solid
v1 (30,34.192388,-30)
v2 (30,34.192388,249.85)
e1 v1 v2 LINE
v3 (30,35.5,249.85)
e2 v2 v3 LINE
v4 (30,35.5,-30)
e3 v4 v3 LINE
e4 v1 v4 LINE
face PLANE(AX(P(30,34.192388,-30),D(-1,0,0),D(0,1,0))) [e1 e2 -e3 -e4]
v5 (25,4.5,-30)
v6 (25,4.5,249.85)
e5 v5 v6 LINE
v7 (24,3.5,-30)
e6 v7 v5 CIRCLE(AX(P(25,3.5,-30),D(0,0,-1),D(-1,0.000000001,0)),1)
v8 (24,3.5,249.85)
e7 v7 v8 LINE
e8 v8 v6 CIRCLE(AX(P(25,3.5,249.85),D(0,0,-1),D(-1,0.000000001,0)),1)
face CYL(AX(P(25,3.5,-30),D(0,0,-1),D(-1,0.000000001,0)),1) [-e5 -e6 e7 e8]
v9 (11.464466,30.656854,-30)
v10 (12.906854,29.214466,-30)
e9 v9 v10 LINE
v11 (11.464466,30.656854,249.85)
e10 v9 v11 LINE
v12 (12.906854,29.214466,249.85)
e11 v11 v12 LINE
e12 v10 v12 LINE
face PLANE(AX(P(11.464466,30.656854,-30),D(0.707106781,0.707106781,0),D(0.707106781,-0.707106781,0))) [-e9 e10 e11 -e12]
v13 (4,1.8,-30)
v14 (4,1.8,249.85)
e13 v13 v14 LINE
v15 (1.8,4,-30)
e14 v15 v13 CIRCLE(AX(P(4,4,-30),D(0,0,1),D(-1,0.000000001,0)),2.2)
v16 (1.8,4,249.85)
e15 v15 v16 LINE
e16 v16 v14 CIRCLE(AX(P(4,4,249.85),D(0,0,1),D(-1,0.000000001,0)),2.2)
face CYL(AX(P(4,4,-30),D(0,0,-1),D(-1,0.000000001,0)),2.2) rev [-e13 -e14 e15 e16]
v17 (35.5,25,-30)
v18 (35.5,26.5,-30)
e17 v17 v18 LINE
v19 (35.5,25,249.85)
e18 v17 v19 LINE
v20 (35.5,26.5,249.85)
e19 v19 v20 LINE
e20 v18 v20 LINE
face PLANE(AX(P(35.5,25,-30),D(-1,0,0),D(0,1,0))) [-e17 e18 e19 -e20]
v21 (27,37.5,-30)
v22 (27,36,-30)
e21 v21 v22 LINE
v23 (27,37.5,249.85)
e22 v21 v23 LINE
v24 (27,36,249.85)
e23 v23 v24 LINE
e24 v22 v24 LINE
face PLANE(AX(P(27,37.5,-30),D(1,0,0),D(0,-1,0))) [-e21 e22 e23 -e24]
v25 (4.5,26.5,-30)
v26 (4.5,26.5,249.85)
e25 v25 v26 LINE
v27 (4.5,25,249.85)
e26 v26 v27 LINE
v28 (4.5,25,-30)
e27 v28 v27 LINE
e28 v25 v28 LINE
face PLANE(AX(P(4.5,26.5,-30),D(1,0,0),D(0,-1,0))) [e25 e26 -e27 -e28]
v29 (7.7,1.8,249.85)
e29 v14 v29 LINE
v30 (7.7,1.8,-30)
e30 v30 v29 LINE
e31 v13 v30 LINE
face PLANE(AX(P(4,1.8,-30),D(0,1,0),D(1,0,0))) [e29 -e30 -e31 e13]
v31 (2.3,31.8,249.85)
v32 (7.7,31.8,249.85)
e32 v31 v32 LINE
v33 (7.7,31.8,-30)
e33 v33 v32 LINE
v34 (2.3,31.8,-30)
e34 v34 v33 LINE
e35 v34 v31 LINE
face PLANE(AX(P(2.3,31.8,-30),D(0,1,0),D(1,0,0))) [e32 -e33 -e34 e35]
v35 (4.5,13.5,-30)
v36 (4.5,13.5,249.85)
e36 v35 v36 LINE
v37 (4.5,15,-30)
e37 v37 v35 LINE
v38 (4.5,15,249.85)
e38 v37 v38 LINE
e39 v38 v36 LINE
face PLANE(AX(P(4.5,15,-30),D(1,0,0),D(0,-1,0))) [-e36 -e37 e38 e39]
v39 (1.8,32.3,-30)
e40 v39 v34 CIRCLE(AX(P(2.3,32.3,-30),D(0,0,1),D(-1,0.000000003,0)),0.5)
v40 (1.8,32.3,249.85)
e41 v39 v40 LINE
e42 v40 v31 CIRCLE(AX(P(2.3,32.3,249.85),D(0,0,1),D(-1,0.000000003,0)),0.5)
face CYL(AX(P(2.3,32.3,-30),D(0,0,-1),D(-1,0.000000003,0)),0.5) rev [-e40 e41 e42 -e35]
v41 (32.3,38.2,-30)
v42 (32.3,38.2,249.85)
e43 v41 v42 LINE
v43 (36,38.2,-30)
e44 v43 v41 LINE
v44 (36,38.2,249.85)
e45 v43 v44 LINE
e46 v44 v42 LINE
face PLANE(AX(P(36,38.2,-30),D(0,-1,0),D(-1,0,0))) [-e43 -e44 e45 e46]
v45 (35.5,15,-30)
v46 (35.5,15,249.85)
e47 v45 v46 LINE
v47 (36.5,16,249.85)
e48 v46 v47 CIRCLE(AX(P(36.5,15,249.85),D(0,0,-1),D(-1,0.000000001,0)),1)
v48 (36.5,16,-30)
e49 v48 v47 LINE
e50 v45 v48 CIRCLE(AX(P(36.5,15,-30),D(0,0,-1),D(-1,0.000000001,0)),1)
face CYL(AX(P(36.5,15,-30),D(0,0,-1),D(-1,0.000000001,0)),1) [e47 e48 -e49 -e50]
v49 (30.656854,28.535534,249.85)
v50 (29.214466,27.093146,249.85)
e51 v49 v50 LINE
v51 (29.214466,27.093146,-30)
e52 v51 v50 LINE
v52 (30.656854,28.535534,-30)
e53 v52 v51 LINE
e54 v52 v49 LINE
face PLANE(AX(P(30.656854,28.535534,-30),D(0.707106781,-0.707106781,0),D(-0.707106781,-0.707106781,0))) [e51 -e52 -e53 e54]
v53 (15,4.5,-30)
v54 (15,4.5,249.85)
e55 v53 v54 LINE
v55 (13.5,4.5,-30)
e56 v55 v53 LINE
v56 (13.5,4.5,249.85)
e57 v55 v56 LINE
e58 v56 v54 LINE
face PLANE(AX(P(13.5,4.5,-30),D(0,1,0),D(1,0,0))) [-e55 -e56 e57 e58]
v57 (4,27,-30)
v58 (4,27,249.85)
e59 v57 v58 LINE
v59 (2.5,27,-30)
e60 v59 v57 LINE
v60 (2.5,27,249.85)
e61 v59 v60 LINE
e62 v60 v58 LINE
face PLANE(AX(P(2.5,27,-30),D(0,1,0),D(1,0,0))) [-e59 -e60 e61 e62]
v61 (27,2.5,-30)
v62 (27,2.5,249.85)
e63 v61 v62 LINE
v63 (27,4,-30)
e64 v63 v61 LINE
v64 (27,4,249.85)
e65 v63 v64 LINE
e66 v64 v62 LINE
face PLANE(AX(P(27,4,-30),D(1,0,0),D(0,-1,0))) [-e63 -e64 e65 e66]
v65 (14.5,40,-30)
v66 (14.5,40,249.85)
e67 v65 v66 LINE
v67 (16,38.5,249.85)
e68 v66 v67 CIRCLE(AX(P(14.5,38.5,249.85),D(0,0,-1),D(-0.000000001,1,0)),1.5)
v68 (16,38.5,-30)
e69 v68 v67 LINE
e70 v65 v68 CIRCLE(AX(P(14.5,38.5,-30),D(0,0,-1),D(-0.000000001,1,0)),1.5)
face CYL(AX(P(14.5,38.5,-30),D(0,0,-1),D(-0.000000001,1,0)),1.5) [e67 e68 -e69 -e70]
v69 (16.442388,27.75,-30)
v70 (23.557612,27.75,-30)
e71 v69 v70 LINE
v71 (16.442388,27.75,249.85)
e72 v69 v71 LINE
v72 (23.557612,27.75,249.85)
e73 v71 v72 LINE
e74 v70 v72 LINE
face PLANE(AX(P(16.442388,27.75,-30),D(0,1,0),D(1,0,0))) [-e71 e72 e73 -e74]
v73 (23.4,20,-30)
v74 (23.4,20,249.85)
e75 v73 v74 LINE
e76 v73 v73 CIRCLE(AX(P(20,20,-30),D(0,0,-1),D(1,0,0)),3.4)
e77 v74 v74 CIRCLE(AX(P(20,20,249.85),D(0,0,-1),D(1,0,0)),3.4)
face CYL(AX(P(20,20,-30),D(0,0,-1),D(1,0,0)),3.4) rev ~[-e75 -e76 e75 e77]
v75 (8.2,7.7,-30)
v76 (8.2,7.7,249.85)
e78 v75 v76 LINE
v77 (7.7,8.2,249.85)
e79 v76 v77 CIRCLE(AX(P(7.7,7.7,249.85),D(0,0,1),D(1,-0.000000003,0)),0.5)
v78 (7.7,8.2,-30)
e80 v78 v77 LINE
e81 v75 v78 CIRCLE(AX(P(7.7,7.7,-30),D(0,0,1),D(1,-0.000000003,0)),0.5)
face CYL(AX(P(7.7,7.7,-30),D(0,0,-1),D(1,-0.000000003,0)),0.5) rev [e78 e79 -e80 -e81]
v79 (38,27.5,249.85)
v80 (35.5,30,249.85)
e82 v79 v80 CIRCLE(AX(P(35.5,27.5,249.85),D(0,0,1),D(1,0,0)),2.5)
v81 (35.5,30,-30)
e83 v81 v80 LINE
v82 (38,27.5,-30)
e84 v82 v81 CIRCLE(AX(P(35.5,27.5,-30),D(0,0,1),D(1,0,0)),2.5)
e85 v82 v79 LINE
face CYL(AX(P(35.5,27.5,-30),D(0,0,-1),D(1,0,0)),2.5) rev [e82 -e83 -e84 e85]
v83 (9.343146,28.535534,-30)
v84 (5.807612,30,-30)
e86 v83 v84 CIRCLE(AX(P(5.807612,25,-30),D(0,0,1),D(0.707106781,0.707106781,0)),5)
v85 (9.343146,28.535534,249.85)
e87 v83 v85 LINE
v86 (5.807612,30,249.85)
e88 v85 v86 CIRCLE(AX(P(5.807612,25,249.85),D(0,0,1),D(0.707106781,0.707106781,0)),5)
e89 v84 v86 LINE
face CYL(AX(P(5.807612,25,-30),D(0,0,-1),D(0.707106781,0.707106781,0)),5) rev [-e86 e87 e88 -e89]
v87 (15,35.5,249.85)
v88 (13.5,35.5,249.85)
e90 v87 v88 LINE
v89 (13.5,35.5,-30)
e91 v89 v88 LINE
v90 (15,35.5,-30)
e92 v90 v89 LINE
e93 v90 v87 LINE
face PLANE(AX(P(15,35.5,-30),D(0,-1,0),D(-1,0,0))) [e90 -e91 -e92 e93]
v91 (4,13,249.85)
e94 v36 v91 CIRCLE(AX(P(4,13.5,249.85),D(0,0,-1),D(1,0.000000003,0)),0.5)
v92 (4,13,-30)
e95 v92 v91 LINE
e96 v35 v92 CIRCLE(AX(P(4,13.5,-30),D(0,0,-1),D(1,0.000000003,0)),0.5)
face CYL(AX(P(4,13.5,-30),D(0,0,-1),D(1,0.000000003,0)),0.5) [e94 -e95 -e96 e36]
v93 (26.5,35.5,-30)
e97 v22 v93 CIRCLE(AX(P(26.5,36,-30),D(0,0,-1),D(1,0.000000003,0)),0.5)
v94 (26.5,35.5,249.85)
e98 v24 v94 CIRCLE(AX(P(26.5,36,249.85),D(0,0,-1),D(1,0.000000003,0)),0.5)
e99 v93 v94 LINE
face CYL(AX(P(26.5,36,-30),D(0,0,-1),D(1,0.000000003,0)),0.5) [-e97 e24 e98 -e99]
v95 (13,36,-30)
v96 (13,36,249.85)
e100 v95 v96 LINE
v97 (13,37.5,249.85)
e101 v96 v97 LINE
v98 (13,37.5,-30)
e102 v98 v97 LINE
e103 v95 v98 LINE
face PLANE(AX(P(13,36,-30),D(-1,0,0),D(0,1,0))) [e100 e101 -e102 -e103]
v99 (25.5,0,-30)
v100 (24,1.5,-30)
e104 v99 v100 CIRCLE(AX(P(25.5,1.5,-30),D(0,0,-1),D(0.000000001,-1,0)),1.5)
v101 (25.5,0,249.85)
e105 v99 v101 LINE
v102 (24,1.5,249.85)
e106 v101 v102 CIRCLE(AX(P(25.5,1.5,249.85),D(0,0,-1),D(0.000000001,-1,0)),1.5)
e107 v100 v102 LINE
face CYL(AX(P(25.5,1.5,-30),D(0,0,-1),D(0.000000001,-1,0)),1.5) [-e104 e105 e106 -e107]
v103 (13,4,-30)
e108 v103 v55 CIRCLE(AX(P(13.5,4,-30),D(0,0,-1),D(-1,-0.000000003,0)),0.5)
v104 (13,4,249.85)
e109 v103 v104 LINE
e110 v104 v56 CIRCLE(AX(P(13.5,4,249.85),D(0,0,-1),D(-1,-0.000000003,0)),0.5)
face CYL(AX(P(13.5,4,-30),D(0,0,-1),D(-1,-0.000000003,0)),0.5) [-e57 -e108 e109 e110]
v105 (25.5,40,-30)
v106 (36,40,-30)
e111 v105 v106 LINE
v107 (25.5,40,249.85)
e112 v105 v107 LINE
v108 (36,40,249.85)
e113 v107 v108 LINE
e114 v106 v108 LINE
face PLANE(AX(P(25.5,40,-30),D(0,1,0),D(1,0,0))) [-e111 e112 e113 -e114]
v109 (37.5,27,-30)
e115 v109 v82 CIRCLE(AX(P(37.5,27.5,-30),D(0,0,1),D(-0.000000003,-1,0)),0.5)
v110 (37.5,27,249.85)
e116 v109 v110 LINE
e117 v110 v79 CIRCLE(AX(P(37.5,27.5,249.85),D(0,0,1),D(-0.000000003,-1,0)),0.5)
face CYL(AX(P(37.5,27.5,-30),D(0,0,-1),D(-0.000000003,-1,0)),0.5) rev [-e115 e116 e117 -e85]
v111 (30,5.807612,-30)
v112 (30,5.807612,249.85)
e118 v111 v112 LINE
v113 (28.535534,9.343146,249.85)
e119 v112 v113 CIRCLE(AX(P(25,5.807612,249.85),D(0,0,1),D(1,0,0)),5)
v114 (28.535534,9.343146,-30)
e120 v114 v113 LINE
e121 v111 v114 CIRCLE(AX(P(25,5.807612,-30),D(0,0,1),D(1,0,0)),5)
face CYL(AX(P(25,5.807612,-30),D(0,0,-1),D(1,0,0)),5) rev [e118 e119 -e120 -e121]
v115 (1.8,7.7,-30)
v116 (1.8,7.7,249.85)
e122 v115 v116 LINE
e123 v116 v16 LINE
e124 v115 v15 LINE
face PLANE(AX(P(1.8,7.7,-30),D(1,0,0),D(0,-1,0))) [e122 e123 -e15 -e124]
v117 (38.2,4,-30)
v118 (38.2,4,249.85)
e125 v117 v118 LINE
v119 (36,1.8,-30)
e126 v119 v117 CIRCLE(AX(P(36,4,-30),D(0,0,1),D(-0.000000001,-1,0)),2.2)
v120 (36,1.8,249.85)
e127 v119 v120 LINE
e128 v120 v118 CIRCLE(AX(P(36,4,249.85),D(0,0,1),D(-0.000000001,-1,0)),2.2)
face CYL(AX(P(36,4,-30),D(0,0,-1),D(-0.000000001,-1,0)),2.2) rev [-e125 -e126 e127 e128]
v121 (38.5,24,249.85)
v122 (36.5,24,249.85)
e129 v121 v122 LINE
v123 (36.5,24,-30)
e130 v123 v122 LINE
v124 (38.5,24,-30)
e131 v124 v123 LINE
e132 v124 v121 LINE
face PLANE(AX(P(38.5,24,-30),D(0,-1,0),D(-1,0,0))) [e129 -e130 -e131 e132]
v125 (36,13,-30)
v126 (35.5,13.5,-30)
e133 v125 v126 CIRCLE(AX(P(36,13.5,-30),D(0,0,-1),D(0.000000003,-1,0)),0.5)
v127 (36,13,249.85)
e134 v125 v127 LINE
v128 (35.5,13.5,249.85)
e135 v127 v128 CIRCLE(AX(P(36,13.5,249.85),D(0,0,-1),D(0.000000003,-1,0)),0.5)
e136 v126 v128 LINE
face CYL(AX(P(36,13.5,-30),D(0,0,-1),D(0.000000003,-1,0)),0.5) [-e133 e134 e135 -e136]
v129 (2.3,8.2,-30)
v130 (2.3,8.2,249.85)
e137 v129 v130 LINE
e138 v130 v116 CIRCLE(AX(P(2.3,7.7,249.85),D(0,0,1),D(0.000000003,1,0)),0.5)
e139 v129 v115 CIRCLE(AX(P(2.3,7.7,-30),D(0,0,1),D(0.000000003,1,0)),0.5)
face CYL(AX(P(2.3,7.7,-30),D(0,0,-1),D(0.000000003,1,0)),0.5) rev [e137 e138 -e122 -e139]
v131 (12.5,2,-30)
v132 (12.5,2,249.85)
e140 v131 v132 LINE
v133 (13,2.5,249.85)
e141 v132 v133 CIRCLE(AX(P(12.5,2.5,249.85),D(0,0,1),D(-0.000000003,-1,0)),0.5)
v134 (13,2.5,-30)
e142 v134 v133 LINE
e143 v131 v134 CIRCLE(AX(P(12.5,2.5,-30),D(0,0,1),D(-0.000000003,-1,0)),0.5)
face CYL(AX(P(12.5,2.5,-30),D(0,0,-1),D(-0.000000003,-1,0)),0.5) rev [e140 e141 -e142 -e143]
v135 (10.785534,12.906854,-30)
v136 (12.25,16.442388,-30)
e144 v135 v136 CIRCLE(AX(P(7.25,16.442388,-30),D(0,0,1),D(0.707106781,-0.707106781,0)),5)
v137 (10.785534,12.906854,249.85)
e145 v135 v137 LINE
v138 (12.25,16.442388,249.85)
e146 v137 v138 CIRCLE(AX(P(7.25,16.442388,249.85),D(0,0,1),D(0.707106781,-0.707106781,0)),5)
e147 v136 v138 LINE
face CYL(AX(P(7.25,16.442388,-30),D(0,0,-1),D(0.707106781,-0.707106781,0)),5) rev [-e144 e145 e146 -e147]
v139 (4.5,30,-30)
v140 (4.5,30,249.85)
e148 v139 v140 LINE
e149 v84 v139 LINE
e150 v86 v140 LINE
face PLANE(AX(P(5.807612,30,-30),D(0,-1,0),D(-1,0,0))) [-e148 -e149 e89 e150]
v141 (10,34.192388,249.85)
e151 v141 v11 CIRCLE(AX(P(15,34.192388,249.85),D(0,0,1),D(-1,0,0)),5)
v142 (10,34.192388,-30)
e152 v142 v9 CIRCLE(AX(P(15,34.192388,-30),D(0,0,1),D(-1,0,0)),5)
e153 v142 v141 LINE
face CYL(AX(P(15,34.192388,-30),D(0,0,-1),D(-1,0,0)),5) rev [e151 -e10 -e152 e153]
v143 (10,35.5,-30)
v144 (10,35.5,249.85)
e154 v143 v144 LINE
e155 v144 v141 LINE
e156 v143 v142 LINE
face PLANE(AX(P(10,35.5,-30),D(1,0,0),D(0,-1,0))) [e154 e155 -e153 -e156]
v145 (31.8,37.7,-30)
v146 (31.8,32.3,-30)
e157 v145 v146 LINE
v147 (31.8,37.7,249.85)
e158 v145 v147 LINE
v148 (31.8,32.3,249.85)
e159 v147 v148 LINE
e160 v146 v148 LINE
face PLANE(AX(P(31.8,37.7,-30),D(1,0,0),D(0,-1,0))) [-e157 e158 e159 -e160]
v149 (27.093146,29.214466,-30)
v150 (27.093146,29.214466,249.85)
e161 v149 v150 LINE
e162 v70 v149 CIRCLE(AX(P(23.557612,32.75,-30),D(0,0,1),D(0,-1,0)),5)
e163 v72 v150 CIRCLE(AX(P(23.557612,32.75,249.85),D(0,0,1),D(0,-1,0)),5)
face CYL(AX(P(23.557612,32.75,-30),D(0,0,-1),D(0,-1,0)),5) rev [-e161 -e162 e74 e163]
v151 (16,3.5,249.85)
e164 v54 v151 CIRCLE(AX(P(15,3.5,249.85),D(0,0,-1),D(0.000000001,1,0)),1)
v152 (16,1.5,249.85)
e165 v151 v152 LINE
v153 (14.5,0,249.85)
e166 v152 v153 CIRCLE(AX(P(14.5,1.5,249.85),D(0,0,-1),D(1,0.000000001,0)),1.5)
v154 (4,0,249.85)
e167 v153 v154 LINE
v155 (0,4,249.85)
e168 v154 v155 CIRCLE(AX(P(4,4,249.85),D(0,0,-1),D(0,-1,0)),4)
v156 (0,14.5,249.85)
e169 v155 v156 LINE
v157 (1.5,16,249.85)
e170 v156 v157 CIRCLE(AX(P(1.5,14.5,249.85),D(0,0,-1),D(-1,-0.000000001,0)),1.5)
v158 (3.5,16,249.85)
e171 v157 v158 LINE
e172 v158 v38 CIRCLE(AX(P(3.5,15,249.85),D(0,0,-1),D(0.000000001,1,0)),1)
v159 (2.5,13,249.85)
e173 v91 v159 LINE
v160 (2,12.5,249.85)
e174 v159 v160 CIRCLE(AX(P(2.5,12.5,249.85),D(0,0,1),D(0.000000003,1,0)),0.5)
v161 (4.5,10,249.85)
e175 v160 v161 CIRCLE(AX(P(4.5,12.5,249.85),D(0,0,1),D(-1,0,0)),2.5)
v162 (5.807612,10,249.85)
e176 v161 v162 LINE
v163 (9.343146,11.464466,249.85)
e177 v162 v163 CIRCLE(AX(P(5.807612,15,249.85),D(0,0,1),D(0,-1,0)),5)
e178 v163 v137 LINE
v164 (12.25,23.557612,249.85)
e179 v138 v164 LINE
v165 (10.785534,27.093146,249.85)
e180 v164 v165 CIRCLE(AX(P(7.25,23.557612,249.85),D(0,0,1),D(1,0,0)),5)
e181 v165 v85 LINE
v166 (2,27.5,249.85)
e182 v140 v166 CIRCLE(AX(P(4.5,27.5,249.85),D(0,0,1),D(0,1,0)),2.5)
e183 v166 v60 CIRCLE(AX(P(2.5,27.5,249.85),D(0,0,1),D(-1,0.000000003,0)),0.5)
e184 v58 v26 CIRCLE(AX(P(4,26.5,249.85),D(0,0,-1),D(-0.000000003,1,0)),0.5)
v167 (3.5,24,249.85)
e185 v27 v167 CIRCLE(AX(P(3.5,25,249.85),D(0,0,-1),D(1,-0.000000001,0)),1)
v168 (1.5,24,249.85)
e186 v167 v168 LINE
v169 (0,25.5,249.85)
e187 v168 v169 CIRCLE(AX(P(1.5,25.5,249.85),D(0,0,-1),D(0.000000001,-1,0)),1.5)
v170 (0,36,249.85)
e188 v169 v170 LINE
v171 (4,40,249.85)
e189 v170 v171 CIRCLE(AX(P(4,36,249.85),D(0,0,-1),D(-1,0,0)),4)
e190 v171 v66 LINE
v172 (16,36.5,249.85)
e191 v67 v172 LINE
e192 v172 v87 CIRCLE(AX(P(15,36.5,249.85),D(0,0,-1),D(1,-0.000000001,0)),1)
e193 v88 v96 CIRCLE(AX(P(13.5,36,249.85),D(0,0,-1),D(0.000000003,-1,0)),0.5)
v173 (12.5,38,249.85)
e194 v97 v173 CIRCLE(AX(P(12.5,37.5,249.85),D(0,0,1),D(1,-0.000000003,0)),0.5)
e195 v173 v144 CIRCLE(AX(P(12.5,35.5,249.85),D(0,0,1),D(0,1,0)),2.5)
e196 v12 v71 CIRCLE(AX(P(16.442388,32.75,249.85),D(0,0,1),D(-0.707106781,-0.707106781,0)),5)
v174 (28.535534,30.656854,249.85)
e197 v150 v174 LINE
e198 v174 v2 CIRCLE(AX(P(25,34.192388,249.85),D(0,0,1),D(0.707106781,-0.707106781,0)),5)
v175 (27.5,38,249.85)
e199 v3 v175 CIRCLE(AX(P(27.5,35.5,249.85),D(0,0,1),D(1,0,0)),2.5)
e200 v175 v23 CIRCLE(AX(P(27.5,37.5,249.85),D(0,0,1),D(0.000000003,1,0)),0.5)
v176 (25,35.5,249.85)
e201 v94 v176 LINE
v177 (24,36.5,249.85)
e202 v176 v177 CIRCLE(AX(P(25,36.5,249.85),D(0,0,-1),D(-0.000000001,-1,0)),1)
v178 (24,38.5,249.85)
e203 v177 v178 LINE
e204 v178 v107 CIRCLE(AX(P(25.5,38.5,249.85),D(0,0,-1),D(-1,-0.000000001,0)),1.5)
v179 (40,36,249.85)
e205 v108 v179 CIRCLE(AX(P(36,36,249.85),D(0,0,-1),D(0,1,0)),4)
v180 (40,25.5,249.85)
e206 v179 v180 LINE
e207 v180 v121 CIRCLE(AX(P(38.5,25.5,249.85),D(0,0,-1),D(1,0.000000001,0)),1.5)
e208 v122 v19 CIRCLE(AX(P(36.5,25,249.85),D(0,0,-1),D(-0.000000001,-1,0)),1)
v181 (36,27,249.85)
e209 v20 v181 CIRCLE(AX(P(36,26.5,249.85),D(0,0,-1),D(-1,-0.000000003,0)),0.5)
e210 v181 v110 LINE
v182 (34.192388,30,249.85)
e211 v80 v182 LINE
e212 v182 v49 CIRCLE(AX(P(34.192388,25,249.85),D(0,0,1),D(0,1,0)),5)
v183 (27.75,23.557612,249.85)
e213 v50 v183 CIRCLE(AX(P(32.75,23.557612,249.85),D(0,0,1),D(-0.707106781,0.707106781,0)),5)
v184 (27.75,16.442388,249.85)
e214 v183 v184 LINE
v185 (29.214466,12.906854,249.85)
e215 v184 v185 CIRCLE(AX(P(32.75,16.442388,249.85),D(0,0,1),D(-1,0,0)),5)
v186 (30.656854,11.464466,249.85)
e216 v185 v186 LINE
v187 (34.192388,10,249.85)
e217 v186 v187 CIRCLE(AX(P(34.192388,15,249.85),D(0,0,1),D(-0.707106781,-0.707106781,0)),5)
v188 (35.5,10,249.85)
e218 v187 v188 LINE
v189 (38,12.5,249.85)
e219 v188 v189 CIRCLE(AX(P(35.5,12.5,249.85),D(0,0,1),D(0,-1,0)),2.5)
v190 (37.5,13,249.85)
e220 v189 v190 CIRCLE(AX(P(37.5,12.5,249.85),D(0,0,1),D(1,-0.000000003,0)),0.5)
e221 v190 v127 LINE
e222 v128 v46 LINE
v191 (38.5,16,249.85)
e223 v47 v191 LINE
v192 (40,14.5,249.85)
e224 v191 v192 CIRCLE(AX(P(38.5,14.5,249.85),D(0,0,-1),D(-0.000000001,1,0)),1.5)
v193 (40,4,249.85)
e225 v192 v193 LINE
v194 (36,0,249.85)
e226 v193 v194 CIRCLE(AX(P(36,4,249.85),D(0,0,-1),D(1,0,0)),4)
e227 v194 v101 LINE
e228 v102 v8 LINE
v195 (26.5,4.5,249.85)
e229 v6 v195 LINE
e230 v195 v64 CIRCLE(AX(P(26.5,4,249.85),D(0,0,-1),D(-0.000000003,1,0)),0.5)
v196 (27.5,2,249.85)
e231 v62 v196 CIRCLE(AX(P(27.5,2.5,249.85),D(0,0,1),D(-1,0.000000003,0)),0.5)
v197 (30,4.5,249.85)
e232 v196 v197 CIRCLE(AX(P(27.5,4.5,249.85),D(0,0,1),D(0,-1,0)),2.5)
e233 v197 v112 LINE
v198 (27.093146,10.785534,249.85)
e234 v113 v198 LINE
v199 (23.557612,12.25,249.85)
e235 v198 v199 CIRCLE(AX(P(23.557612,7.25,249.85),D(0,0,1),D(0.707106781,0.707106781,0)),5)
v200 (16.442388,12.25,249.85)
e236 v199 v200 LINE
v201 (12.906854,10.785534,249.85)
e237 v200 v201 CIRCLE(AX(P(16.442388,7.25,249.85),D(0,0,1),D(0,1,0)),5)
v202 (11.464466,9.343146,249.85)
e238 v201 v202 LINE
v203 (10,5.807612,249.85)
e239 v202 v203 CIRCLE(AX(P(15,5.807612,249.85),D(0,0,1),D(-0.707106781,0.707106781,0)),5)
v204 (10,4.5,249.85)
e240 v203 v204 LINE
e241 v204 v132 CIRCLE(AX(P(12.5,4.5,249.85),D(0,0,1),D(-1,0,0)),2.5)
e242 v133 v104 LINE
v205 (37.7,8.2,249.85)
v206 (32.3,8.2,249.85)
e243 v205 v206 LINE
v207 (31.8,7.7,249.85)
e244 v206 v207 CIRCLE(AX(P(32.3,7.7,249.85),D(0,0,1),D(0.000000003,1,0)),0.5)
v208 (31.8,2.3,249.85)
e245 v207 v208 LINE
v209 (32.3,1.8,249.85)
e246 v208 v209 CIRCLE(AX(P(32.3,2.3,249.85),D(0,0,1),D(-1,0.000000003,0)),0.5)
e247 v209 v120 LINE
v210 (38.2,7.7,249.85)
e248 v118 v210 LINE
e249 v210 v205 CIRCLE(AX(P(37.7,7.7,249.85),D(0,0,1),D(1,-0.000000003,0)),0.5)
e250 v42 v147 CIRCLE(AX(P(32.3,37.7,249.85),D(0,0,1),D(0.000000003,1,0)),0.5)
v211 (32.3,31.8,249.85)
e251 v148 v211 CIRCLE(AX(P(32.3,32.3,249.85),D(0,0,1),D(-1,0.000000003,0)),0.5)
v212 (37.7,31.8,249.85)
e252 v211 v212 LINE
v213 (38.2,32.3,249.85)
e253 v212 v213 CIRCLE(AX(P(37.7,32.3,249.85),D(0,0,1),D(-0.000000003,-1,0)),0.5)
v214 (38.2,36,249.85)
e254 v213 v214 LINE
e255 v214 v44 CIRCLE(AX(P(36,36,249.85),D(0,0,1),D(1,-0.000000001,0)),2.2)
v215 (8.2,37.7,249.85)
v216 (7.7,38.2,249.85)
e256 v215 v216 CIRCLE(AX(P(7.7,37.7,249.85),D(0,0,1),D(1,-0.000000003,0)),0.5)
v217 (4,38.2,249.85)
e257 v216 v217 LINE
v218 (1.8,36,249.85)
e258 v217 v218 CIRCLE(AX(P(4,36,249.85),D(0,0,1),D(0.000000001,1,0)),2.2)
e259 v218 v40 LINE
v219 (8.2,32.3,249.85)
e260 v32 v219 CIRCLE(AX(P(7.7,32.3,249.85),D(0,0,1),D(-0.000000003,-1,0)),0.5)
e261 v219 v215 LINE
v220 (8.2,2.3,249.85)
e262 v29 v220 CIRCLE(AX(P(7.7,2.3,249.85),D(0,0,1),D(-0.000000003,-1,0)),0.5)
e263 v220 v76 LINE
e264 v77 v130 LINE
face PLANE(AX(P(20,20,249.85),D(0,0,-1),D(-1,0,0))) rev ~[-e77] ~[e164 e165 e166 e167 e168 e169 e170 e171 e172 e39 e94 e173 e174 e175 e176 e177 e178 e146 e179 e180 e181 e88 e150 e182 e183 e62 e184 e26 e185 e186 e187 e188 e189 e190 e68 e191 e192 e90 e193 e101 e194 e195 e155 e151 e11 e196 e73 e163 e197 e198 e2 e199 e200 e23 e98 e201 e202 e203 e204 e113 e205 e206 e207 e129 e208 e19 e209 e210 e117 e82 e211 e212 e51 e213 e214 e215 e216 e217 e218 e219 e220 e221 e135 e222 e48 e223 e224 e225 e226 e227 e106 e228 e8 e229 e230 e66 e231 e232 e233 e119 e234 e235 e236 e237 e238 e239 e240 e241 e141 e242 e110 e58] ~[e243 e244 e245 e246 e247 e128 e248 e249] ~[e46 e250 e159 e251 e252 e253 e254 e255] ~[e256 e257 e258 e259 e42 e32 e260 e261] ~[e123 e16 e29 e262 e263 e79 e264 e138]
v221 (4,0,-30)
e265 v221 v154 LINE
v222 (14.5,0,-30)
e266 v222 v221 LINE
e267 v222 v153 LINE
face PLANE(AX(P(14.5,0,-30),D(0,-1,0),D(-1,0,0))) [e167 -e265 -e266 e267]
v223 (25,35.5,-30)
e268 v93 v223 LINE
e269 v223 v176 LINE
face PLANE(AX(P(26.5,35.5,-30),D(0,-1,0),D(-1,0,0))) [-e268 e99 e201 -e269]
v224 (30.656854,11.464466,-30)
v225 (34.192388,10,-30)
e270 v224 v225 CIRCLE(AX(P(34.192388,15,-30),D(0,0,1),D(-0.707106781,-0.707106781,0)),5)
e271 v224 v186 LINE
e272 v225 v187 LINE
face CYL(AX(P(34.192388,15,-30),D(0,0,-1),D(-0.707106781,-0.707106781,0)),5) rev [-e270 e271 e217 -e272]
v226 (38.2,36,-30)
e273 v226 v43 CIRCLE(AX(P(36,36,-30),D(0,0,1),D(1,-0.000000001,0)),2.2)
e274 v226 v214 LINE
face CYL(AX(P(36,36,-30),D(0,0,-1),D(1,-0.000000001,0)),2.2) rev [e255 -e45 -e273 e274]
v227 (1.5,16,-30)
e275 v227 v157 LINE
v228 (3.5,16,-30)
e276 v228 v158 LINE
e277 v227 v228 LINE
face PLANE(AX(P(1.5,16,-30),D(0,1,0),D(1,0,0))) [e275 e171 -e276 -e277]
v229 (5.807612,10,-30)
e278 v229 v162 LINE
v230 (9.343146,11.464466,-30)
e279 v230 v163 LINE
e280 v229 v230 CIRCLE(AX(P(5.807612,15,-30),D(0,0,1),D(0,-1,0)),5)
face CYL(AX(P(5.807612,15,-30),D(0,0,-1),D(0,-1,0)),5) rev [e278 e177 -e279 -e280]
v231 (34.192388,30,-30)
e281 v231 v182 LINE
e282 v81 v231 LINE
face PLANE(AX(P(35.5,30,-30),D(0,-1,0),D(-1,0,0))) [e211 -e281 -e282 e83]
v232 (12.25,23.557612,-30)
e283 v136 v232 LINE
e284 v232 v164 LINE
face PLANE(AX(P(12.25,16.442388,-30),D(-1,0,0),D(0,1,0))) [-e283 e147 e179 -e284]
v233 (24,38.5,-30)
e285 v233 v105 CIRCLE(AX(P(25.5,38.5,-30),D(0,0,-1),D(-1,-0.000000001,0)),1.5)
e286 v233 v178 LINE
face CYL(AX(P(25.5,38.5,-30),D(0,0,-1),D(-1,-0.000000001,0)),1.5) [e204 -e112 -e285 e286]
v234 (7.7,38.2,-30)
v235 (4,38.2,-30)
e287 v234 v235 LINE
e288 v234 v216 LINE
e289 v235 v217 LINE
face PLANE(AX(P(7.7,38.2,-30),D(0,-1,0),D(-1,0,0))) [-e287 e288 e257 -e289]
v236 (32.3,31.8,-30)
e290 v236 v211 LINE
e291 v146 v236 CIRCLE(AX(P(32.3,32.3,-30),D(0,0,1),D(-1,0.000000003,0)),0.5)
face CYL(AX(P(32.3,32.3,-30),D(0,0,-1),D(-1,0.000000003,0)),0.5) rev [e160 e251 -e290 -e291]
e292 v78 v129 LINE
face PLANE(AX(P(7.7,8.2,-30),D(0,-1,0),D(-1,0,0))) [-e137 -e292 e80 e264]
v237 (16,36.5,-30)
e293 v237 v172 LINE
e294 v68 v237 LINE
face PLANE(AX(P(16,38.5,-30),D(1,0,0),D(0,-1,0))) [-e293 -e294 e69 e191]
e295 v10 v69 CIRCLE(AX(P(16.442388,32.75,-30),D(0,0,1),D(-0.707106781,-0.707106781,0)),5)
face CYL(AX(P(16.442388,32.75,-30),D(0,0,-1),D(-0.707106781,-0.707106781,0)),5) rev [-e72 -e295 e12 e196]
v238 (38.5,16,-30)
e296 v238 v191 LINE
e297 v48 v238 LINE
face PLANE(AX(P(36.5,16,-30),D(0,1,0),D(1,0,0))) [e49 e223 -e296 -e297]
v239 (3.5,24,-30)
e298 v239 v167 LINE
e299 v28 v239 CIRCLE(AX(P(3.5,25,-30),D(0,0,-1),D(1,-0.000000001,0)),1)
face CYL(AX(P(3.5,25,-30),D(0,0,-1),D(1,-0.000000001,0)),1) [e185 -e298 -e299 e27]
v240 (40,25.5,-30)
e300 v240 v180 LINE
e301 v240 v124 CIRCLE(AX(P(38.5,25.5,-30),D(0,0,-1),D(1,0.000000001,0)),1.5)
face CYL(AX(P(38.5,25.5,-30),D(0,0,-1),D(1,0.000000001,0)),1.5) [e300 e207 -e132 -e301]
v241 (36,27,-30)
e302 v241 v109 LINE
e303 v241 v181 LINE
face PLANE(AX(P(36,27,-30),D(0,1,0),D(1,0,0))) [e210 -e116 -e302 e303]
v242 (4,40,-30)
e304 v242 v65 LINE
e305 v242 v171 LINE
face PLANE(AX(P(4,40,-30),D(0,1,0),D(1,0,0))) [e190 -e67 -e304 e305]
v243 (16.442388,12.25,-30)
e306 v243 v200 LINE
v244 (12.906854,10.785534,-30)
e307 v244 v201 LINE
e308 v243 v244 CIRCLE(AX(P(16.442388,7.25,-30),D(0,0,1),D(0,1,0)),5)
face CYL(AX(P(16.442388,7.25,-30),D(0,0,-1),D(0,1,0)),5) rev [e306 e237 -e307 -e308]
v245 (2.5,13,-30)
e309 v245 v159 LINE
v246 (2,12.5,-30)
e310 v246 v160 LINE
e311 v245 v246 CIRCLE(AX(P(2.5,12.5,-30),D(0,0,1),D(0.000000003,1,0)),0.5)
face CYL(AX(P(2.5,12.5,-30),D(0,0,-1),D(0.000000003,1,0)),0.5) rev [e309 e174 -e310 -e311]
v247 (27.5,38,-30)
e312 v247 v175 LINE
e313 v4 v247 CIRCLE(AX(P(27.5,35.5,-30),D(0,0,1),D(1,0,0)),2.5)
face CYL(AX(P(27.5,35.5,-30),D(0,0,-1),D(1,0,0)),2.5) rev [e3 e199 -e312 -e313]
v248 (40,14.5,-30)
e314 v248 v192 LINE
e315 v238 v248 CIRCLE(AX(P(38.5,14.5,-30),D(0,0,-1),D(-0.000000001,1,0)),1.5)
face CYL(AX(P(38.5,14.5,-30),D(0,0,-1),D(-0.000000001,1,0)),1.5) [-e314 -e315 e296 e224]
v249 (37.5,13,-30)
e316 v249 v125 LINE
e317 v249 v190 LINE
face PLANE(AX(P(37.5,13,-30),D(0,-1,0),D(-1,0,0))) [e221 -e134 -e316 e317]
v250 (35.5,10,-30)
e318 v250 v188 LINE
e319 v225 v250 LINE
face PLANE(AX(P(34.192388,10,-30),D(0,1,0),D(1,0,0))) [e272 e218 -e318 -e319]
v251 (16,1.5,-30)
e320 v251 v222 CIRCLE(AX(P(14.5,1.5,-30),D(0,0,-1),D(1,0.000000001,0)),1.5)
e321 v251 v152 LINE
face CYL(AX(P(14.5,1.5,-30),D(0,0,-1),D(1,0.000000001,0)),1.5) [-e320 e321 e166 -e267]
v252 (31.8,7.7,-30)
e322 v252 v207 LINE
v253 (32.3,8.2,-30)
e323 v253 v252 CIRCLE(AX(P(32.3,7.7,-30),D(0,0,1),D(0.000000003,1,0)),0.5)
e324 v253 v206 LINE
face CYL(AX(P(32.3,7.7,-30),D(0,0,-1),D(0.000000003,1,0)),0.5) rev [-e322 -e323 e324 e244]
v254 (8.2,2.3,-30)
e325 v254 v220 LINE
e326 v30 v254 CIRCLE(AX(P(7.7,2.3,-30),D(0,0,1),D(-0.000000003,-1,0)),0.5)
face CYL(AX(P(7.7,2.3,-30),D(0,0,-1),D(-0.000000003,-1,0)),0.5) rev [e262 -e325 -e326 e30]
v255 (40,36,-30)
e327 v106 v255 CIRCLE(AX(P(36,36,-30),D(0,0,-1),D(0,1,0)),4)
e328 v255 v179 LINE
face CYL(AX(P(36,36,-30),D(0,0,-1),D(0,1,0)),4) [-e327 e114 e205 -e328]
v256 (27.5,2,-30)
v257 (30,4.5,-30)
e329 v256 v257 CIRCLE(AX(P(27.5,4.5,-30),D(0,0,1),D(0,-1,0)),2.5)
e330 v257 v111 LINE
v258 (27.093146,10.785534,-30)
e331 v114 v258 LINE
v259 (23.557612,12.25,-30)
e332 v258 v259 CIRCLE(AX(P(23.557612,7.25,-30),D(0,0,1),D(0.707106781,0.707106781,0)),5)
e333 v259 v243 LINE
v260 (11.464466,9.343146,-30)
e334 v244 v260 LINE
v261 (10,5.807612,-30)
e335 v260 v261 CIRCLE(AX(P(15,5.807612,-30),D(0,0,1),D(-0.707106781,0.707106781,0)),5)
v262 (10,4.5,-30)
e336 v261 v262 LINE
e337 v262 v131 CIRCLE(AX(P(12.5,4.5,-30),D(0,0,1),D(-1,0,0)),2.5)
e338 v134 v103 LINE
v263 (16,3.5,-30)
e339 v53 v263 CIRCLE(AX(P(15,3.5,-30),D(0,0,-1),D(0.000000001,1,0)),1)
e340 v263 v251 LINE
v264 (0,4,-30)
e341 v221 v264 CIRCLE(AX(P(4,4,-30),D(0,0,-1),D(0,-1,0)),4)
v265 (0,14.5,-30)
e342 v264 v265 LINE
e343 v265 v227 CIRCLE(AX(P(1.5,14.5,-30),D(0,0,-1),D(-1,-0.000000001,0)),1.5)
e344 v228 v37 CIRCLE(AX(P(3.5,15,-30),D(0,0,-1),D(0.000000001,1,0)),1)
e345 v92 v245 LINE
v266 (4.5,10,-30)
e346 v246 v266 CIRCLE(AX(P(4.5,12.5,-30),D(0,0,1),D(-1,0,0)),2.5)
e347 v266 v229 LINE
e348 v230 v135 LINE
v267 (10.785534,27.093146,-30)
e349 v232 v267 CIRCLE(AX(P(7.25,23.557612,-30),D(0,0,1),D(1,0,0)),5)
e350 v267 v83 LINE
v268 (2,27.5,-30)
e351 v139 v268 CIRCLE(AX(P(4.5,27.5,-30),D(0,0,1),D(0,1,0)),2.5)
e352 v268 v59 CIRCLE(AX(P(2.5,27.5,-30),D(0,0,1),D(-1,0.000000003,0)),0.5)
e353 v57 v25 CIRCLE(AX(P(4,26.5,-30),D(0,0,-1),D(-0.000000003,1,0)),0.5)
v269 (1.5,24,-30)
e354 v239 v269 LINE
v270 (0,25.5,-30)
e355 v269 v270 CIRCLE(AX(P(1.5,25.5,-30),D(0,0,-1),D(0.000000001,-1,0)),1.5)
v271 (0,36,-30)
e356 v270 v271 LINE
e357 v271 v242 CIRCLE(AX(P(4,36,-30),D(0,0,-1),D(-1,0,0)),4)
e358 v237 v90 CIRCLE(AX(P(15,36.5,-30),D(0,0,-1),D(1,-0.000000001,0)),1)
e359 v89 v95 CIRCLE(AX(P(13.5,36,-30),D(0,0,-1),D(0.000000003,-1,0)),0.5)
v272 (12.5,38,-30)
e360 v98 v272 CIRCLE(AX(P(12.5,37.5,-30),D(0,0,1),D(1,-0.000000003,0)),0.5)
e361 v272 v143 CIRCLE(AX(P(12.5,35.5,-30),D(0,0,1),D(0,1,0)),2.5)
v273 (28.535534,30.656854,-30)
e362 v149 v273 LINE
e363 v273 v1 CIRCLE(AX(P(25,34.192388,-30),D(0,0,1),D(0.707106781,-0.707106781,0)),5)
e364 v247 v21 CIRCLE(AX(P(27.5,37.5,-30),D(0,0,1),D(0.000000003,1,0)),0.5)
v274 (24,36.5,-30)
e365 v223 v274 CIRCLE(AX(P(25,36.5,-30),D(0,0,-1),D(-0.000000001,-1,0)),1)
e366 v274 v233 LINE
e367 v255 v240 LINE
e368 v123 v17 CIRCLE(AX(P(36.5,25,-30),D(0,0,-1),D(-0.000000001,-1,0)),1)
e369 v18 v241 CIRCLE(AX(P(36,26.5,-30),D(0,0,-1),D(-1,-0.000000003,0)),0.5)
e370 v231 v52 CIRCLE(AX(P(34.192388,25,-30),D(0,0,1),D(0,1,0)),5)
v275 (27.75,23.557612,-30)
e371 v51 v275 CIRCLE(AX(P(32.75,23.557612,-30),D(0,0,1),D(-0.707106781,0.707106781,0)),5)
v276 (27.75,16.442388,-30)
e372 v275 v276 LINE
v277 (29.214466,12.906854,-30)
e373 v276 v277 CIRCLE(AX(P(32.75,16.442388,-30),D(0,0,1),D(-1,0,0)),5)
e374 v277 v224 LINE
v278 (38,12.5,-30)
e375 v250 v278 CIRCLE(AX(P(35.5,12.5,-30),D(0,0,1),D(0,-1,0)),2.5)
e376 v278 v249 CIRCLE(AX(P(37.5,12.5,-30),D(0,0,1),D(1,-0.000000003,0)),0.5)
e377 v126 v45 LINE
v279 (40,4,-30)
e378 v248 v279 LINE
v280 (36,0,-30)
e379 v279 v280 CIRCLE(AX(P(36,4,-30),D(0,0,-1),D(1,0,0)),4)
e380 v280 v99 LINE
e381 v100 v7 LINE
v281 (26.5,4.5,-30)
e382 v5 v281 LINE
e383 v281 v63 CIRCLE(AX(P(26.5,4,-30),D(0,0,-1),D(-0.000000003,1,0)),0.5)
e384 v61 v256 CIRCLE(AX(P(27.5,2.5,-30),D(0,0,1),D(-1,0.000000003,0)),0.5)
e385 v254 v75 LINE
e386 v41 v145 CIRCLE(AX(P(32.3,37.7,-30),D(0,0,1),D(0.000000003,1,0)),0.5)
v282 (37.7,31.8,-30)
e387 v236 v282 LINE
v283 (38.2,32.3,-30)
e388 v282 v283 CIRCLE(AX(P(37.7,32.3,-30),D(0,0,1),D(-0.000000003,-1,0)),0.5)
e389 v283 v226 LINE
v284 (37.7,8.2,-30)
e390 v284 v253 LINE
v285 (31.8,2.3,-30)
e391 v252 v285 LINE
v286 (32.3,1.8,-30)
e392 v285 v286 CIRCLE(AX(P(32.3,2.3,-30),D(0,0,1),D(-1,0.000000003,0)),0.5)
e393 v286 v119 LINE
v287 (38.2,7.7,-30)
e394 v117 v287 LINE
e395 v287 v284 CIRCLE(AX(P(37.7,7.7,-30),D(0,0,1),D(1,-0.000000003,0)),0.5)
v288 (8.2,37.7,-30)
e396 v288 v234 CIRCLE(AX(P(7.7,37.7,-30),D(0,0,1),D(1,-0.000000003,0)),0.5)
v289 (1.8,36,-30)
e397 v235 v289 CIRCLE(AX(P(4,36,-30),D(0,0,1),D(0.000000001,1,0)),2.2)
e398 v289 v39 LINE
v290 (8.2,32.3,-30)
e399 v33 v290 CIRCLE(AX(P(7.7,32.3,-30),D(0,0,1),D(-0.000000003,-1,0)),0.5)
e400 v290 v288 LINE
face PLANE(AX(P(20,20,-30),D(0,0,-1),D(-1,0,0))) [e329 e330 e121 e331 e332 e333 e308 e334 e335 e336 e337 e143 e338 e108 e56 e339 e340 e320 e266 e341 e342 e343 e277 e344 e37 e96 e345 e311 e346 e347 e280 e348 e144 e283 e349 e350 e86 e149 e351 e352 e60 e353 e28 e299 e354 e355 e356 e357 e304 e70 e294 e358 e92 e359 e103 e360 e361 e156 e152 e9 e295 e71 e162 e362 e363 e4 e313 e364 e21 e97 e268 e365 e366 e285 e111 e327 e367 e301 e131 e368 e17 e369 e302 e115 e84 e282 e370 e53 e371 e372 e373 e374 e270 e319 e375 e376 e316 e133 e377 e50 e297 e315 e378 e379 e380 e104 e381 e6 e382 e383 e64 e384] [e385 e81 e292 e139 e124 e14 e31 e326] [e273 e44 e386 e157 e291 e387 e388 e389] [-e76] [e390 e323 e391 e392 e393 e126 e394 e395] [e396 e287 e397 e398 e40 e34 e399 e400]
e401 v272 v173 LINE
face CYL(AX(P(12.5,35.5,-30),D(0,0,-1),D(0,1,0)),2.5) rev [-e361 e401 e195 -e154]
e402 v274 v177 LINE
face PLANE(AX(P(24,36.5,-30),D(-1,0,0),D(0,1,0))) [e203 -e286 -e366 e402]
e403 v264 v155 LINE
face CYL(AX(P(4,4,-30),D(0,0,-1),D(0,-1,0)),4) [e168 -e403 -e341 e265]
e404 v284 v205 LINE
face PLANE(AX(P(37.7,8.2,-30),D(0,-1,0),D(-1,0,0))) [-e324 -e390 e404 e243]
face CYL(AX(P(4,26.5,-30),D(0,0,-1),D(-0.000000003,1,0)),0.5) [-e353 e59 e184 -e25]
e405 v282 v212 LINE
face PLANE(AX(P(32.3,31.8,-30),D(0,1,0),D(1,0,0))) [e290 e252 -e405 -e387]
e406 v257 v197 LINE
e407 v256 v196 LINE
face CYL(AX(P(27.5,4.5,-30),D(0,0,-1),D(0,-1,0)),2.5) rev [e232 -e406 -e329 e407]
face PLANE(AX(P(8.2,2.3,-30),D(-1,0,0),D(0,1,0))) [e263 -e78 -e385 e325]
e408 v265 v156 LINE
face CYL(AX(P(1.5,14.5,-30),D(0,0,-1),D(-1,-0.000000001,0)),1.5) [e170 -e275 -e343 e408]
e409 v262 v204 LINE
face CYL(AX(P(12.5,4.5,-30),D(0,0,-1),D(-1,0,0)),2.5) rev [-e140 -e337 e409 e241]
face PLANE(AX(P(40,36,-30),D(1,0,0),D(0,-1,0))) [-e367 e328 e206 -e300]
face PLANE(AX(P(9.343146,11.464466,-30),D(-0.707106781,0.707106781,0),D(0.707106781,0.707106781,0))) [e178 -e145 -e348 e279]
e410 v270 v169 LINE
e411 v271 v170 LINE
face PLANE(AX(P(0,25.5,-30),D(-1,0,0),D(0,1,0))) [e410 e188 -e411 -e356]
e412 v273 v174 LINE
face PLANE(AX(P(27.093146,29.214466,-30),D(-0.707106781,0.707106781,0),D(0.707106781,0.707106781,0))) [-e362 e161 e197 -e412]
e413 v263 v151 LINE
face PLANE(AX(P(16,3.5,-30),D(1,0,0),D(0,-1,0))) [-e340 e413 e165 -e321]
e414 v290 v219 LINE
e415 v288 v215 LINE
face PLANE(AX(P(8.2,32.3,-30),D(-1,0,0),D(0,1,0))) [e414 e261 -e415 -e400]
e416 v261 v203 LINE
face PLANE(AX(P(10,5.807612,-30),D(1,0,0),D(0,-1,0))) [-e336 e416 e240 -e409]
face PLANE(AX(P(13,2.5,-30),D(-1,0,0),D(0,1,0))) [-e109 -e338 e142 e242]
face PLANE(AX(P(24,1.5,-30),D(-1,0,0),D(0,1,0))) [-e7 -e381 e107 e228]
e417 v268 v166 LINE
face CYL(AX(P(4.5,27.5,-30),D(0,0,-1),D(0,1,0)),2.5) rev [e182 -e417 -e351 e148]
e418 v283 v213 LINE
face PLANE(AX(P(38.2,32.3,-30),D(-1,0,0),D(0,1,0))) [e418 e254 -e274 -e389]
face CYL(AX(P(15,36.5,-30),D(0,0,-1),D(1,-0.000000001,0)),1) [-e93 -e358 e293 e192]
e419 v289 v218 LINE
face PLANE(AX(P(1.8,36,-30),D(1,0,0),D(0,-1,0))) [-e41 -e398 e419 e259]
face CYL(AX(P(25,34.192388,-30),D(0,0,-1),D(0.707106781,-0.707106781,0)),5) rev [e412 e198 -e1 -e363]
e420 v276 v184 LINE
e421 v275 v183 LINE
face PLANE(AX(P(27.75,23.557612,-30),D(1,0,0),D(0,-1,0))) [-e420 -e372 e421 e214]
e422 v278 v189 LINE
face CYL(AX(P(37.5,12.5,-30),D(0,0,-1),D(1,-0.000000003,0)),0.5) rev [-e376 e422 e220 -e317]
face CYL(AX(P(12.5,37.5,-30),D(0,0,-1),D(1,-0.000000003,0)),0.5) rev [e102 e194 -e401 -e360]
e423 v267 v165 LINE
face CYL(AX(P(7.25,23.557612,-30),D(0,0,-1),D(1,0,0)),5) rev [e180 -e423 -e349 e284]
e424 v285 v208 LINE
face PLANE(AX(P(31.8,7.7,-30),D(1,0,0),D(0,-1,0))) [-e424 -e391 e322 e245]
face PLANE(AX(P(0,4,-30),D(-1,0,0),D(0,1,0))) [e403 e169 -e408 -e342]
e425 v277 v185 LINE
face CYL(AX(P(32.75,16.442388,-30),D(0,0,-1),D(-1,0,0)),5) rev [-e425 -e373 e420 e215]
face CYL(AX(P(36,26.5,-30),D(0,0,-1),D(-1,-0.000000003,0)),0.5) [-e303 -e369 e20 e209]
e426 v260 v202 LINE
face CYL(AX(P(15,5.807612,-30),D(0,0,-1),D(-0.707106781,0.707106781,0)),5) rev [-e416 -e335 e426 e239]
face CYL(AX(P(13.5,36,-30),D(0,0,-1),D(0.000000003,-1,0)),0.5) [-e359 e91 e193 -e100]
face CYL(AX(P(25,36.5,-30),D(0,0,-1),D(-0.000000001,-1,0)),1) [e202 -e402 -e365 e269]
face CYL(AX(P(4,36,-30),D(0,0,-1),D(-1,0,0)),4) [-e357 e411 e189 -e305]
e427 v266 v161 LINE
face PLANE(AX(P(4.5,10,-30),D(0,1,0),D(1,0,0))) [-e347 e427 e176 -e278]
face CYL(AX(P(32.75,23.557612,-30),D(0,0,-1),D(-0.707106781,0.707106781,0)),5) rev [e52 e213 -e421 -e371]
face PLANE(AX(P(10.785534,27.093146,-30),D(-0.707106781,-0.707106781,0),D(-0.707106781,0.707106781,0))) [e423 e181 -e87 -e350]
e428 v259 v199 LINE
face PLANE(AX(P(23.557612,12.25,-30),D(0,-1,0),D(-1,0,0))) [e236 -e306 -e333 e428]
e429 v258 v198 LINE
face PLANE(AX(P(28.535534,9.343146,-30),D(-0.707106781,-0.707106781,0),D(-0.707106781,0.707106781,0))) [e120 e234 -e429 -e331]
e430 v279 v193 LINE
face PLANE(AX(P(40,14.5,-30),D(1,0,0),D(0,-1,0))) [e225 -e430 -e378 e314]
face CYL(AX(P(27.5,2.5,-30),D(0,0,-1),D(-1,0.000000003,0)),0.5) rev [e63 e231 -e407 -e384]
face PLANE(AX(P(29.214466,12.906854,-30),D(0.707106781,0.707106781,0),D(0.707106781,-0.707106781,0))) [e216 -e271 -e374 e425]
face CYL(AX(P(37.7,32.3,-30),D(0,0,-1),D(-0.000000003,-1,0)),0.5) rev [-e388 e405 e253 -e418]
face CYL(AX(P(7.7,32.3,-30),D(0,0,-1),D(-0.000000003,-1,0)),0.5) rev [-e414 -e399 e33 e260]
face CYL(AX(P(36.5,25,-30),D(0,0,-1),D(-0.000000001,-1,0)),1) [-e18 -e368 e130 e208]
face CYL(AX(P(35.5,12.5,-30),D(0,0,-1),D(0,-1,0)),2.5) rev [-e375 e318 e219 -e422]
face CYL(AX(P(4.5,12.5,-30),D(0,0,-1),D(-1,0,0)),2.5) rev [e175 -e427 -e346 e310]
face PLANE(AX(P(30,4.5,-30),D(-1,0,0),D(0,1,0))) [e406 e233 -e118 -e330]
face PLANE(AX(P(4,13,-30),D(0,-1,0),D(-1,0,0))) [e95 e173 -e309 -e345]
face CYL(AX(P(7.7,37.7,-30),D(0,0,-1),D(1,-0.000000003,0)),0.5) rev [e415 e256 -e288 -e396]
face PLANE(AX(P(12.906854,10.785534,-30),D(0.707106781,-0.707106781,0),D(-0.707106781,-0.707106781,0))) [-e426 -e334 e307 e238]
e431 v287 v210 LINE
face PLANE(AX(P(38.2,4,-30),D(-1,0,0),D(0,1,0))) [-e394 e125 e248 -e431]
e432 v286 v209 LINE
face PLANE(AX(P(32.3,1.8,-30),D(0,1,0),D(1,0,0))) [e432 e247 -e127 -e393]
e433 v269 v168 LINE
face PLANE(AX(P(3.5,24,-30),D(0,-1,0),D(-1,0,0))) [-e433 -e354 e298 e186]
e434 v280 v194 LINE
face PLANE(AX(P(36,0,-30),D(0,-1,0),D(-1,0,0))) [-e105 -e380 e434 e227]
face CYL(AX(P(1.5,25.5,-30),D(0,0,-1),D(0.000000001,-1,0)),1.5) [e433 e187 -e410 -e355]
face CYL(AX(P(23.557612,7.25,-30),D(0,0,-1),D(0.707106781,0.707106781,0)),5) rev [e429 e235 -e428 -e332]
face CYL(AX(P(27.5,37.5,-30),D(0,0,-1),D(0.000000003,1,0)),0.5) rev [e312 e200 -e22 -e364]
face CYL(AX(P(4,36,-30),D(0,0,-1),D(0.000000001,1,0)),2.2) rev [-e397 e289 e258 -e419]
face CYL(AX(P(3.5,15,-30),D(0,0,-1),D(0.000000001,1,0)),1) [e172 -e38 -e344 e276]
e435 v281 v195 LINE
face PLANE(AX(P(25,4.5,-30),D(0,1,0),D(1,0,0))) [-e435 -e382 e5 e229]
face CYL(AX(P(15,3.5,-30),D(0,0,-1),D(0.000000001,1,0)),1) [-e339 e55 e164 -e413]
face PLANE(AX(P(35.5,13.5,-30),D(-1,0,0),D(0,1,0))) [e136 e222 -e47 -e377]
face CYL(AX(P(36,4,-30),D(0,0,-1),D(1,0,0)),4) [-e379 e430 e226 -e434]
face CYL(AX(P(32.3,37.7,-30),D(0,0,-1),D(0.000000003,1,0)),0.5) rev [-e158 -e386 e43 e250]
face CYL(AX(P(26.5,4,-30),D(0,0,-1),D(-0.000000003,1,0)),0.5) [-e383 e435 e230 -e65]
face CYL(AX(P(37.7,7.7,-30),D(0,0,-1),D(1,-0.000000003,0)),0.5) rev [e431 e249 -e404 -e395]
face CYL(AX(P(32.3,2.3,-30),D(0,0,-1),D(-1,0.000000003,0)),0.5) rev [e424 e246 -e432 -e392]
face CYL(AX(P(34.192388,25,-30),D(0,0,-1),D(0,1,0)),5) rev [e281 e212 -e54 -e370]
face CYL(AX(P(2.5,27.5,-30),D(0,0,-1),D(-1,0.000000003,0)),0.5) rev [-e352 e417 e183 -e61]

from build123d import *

# Parameters (mm, degrees)
ESQUISSE1_R        = 3.4
BOSS_EXTRU_1_DEPTH = 279.85


with BuildPart() as part:
    # Esquisse1 → Boss.-Extru.1 (new body)
    with BuildSketch(Plane(origin=(0, 0, -30), x_dir=(-1, 0, 0), z_dir=(0, 0, -1))):
        with BuildLine():
            Line((-4.5, 15), (-4.5, 13.5))
            ThreePointArc((-4.5, 13.5), (-4.353553391, 13.146446609), (-4, 13))
            Line((-4, 13), (-2.5, 13))
            ThreePointArc((-2.5, 13), (-2.146446609, 12.853553391), (-2, 12.5))
            ThreePointArc((-2, 12.5), (-2.732233047, 10.732233047), (-4.5, 10))
            Line((-4.5, 10), (-5.807611845, 10))
            ThreePointArc((-5.807611845, 10), (-7.721029006, 10.380602337), (-9.343145751, 11.464466094))
            Line((-9.343145751, 11.464466094), (-10.785533906, 12.906854249))
            ThreePointArc((-10.785533906, 12.906854249), (-11.869397663, 14.528970994), (-12.25, 16.442388155))
            Line((-12.25, 16.442388155), (-12.25, 23.557611845))
            ThreePointArc((-12.25, 23.557611845), (-11.869397663, 25.471029006), (-10.785533906, 27.093145751))
            Line((-10.785533906, 27.093145751), (-9.343145751, 28.535533906))
            ThreePointArc((-9.343145751, 28.535533906), (-7.721029006, 29.619397663), (-5.807611845, 30))
            Line((-5.807611845, 30), (-4.5, 30))
            ThreePointArc((-4.5, 30), (-2.732233047, 29.267766953), (-2, 27.5))
            ThreePointArc((-2, 27.5), (-2.146446609, 27.146446609), (-2.5, 27))
            Line((-2.5, 27), (-4, 27))
            ThreePointArc((-4, 27), (-4.353553391, 26.853553391), (-4.5, 26.5))
            Line((-4.5, 26.5), (-4.5, 25))
            ThreePointArc((-4.5, 25), (-4.207106781, 24.292893219), (-3.5, 24))
            Line((-3.5, 24), (-1.5, 24))
            ThreePointArc((-1.5, 24), (-0.439339828, 24.439339828), (0, 25.5))
            Line((0, 25.5), (0, 36))
            ThreePointArc((0, 36), (-1.171572875, 38.828427125), (-4, 40))
            Line((-4, 40), (-14.5, 40))
            ThreePointArc((-14.5, 40), (-15.560660172, 39.560660172), (-16, 38.5))
            Line((-16, 38.5), (-16, 36.5))
            ThreePointArc((-16, 36.5), (-15.707106781, 35.792893219), (-15, 35.5))
            Line((-15, 35.5), (-13.5, 35.5))
            ThreePointArc((-13.5, 35.5), (-13.146446609, 35.646446609), (-13, 36))
            Line((-13, 36), (-13, 37.5))
            ThreePointArc((-13, 37.5), (-12.853553391, 37.853553391), (-12.5, 38))
            ThreePointArc((-12.5, 38), (-10.732233047, 37.267766953), (-10, 35.5))
            Line((-10, 35.5), (-10, 34.192388155))
            ThreePointArc((-10, 34.192388155), (-10.380602337, 32.278970994), (-11.464466094, 30.656854249))
            Line((-11.464466094, 30.656854249), (-12.906854249, 29.214466094))
            ThreePointArc((-12.906854249, 29.214466094), (-14.528970994, 28.130602337), (-16.442388155, 27.75))
            Line((-16.442388155, 27.75), (-23.557611845, 27.75))
            ThreePointArc((-23.557611845, 27.75), (-25.471029006, 28.130602337), (-27.093145751, 29.214466094))
            Line((-27.093145751, 29.214466094), (-28.535533906, 30.656854249))
            ThreePointArc((-28.535533906, 30.656854249), (-29.619397663, 32.278970994), (-30, 34.192388155))
            Line((-30, 34.192388155), (-30, 35.5))
            ThreePointArc((-30, 35.5), (-29.267766953, 37.267766953), (-27.5, 38))
            ThreePointArc((-27.5, 38), (-27.146446609, 37.853553391), (-27, 37.5))
            Line((-27, 37.5), (-27, 36))
            ThreePointArc((-27, 36), (-26.853553391, 35.646446609), (-26.5, 35.5))
            Line((-26.5, 35.5), (-25, 35.5))
            ThreePointArc((-25, 35.5), (-24.292893219, 35.792893219), (-24, 36.5))
            Line((-24, 36.5), (-24, 38.5))
            ThreePointArc((-24, 38.5), (-24.439339828, 39.560660172), (-25.5, 40))
            Line((-25.5, 40), (-36, 40))
            ThreePointArc((-36, 40), (-38.828427125, 38.828427125), (-40, 36))
            Line((-40, 36), (-40, 25.5))
            ThreePointArc((-40, 25.5), (-39.560660172, 24.439339828), (-38.5, 24))
            Line((-38.5, 24), (-36.5, 24))
            ThreePointArc((-36.5, 24), (-35.792893219, 24.292893219), (-35.5, 25))
            Line((-35.5, 25), (-35.5, 26.5))
            ThreePointArc((-35.5, 26.5), (-35.646446609, 26.853553391), (-36, 27))
            Line((-36, 27), (-37.5, 27))
            ThreePointArc((-37.5, 27), (-37.853553391, 27.146446609), (-38, 27.5))
            ThreePointArc((-38, 27.5), (-37.267766953, 29.267766953), (-35.5, 30))
            Line((-35.5, 30), (-34.192388155, 30))
            ThreePointArc((-34.192388155, 30), (-32.278970994, 29.619397663), (-30.656854249, 28.535533906))
            Line((-30.656854249, 28.535533906), (-29.214466094, 27.093145751))
            ThreePointArc((-29.214466094, 27.093145751), (-28.130602337, 25.471029006), (-27.75, 23.557611845))
            Line((-27.75, 23.557611845), (-27.75, 16.442388155))
            ThreePointArc((-27.75, 16.442388155), (-28.130602337, 14.528970994), (-29.214466094, 12.906854249))
            Line((-29.214466094, 12.906854249), (-30.656854249, 11.464466094))
            ThreePointArc((-30.656854249, 11.464466094), (-32.278970994, 10.380602337), (-34.192388155, 10))
            Line((-34.192388155, 10), (-35.5, 10))
            ThreePointArc((-35.5, 10), (-37.267766953, 10.732233047), (-38, 12.5))
            ThreePointArc((-38, 12.5), (-37.853553391, 12.853553391), (-37.5, 13))
            Line((-37.5, 13), (-36, 13))
            ThreePointArc((-36, 13), (-35.646446609, 13.146446609), (-35.5, 13.5))
            Line((-35.5, 13.5), (-35.5, 15))
            ThreePointArc((-35.5, 15), (-35.792893219, 15.707106781), (-36.5, 16))
            Line((-36.5, 16), (-38.5, 16))
            ThreePointArc((-38.5, 16), (-39.560660172, 15.560660172), (-40, 14.5))
            Line((-40, 14.5), (-40, 4))
            ThreePointArc((-40, 4), (-38.828427125, 1.171572875), (-36, 0))
            Line((-36, 0), (-25.5, 0))
            ThreePointArc((-25.5, 0), (-24.439339828, 0.439339828), (-24, 1.5))
            Line((-24, 1.5), (-24, 3.5))
            ThreePointArc((-24, 3.5), (-24.292893219, 4.207106781), (-25, 4.5))
            Line((-25, 4.5), (-26.5, 4.5))
            ThreePointArc((-26.5, 4.5), (-26.853553391, 4.353553391), (-27, 4))
            Line((-27, 4), (-27, 2.5))
            ThreePointArc((-27, 2.5), (-27.146446609, 2.146446609), (-27.5, 2))
            ThreePointArc((-27.5, 2), (-29.267766953, 2.732233047), (-30, 4.5))
            Line((-30, 4.5), (-30, 5.807611845))
            ThreePointArc((-30, 5.807611845), (-29.619397663, 7.721029006), (-28.535533906, 9.343145751))
            Line((-28.535533906, 9.343145751), (-27.093145751, 10.785533906))
            ThreePointArc((-27.093145751, 10.785533906), (-25.471029006, 11.869397663), (-23.557611845, 12.25))
            Line((-23.557611845, 12.25), (-16.442388155, 12.25))
            ThreePointArc((-16.442388155, 12.25), (-14.528970994, 11.869397663), (-12.906854249, 10.785533906))
            Line((-12.906854249, 10.785533906), (-11.464466094, 9.343145751))
            ThreePointArc((-11.464466094, 9.343145751), (-10.380602337, 7.721029006), (-10, 5.807611845))
            Line((-10, 5.807611845), (-10, 4.5))
            ThreePointArc((-10, 4.5), (-10.732233047, 2.732233047), (-12.5, 2))
            ThreePointArc((-12.5, 2), (-12.853553391, 2.146446609), (-13, 2.5))
            Line((-13, 2.5), (-13, 4))
            ThreePointArc((-13, 4), (-13.146446609, 4.353553391), (-13.5, 4.5))
            Line((-13.5, 4.5), (-15, 4.5))
            ThreePointArc((-15, 4.5), (-15.707106781, 4.207106781), (-16, 3.5))
            Line((-16, 3.5), (-16, 1.5))
            ThreePointArc((-16, 1.5), (-15.560660172, 0.439339828), (-14.5, 0))
            Line((-14.5, 0), (-4, 0))
            ThreePointArc((-4, 0), (-1.171572875, 1.171572875), (0, 4))
            Line((0, 4), (0, 14.5))
            ThreePointArc((0, 14.5), (-0.439339828, 15.560660172), (-1.5, 16))
            Line((-1.5, 16), (-3.5, 16))
            ThreePointArc((-3.5, 16), (-4.207106781, 15.707106781), (-4.5, 15))
        make_face()
        with Locations(Location((-20, 20, 0), (0, 0, 180))):
            Circle(ESQUISSE1_R, mode=Mode.SUBTRACT)
        with BuildLine():
            Line((-4, 1.8), (-7.7, 1.8))
            ThreePointArc((-7.7, 1.8), (-8.053553391, 1.946446609), (-8.2, 2.3))
            Line((-8.2, 2.3), (-8.2, 7.7))
            ThreePointArc((-8.2, 7.7), (-8.053553391, 8.053553391), (-7.7, 8.2))
            Line((-7.7, 8.2), (-2.3, 8.2))
            ThreePointArc((-2.3, 8.2), (-1.946446609, 8.053553391), (-1.8, 7.7))
            Line((-1.8, 7.7), (-1.8, 4))
            ThreePointArc((-1.8, 4), (-2.444365081, 2.444365081), (-4, 1.8))
        make_face(mode=Mode.SUBTRACT)
        with BuildLine():
            Line((-38.2, 4), (-38.2, 7.7))
            ThreePointArc((-38.2, 7.7), (-38.053553391, 8.053553391), (-37.7, 8.2))
            Line((-37.7, 8.2), (-32.3, 8.2))
            ThreePointArc((-32.3, 8.2), (-31.946446609, 8.053553391), (-31.8, 7.7))
            Line((-31.8, 7.7), (-31.8, 2.3))
            ThreePointArc((-31.8, 2.3), (-31.946446609, 1.946446609), (-32.3, 1.8))
            Line((-32.3, 1.8), (-36, 1.8))
            ThreePointArc((-36, 1.8), (-37.555634919, 2.444365081), (-38.2, 4))
        make_face(mode=Mode.SUBTRACT)
        with BuildLine():
            Line((-36, 38.2), (-32.3, 38.2))
            ThreePointArc((-32.3, 38.2), (-31.946446609, 38.053553391), (-31.8, 37.7))
            Line((-31.8, 37.7), (-31.8, 32.3))
            ThreePointArc((-31.8, 32.3), (-31.946446609, 31.946446609), (-32.3, 31.8))
            Line((-32.3, 31.8), (-37.7, 31.8))
            ThreePointArc((-37.7, 31.8), (-38.053553391, 31.946446609), (-38.2, 32.3))
            Line((-38.2, 32.3), (-38.2, 36))
            ThreePointArc((-38.2, 36), (-37.555634919, 37.555634919), (-36, 38.2))
        make_face(mode=Mode.SUBTRACT)
        with BuildLine():
            Line((-1.8, 36), (-1.8, 32.3))
            ThreePointArc((-1.8, 32.3), (-1.946446609, 31.946446609), (-2.3, 31.8))
            Line((-2.3, 31.8), (-7.7, 31.8))
            ThreePointArc((-7.7, 31.8), (-8.053553391, 31.946446609), (-8.2, 32.3))
            Line((-8.2, 32.3), (-8.2, 37.7))
            ThreePointArc((-8.2, 37.7), (-8.053553391, 38.053553391), (-7.7, 38.2))
            Line((-7.7, 38.2), (-4, 38.2))
            ThreePointArc((-4, 38.2), (-2.444365081, 37.555634919), (-1.8, 36))
        make_face(mode=Mode.SUBTRACT)
    extrude(amount=-BOSS_EXTRU_1_DEPTH)


solid = part.part
